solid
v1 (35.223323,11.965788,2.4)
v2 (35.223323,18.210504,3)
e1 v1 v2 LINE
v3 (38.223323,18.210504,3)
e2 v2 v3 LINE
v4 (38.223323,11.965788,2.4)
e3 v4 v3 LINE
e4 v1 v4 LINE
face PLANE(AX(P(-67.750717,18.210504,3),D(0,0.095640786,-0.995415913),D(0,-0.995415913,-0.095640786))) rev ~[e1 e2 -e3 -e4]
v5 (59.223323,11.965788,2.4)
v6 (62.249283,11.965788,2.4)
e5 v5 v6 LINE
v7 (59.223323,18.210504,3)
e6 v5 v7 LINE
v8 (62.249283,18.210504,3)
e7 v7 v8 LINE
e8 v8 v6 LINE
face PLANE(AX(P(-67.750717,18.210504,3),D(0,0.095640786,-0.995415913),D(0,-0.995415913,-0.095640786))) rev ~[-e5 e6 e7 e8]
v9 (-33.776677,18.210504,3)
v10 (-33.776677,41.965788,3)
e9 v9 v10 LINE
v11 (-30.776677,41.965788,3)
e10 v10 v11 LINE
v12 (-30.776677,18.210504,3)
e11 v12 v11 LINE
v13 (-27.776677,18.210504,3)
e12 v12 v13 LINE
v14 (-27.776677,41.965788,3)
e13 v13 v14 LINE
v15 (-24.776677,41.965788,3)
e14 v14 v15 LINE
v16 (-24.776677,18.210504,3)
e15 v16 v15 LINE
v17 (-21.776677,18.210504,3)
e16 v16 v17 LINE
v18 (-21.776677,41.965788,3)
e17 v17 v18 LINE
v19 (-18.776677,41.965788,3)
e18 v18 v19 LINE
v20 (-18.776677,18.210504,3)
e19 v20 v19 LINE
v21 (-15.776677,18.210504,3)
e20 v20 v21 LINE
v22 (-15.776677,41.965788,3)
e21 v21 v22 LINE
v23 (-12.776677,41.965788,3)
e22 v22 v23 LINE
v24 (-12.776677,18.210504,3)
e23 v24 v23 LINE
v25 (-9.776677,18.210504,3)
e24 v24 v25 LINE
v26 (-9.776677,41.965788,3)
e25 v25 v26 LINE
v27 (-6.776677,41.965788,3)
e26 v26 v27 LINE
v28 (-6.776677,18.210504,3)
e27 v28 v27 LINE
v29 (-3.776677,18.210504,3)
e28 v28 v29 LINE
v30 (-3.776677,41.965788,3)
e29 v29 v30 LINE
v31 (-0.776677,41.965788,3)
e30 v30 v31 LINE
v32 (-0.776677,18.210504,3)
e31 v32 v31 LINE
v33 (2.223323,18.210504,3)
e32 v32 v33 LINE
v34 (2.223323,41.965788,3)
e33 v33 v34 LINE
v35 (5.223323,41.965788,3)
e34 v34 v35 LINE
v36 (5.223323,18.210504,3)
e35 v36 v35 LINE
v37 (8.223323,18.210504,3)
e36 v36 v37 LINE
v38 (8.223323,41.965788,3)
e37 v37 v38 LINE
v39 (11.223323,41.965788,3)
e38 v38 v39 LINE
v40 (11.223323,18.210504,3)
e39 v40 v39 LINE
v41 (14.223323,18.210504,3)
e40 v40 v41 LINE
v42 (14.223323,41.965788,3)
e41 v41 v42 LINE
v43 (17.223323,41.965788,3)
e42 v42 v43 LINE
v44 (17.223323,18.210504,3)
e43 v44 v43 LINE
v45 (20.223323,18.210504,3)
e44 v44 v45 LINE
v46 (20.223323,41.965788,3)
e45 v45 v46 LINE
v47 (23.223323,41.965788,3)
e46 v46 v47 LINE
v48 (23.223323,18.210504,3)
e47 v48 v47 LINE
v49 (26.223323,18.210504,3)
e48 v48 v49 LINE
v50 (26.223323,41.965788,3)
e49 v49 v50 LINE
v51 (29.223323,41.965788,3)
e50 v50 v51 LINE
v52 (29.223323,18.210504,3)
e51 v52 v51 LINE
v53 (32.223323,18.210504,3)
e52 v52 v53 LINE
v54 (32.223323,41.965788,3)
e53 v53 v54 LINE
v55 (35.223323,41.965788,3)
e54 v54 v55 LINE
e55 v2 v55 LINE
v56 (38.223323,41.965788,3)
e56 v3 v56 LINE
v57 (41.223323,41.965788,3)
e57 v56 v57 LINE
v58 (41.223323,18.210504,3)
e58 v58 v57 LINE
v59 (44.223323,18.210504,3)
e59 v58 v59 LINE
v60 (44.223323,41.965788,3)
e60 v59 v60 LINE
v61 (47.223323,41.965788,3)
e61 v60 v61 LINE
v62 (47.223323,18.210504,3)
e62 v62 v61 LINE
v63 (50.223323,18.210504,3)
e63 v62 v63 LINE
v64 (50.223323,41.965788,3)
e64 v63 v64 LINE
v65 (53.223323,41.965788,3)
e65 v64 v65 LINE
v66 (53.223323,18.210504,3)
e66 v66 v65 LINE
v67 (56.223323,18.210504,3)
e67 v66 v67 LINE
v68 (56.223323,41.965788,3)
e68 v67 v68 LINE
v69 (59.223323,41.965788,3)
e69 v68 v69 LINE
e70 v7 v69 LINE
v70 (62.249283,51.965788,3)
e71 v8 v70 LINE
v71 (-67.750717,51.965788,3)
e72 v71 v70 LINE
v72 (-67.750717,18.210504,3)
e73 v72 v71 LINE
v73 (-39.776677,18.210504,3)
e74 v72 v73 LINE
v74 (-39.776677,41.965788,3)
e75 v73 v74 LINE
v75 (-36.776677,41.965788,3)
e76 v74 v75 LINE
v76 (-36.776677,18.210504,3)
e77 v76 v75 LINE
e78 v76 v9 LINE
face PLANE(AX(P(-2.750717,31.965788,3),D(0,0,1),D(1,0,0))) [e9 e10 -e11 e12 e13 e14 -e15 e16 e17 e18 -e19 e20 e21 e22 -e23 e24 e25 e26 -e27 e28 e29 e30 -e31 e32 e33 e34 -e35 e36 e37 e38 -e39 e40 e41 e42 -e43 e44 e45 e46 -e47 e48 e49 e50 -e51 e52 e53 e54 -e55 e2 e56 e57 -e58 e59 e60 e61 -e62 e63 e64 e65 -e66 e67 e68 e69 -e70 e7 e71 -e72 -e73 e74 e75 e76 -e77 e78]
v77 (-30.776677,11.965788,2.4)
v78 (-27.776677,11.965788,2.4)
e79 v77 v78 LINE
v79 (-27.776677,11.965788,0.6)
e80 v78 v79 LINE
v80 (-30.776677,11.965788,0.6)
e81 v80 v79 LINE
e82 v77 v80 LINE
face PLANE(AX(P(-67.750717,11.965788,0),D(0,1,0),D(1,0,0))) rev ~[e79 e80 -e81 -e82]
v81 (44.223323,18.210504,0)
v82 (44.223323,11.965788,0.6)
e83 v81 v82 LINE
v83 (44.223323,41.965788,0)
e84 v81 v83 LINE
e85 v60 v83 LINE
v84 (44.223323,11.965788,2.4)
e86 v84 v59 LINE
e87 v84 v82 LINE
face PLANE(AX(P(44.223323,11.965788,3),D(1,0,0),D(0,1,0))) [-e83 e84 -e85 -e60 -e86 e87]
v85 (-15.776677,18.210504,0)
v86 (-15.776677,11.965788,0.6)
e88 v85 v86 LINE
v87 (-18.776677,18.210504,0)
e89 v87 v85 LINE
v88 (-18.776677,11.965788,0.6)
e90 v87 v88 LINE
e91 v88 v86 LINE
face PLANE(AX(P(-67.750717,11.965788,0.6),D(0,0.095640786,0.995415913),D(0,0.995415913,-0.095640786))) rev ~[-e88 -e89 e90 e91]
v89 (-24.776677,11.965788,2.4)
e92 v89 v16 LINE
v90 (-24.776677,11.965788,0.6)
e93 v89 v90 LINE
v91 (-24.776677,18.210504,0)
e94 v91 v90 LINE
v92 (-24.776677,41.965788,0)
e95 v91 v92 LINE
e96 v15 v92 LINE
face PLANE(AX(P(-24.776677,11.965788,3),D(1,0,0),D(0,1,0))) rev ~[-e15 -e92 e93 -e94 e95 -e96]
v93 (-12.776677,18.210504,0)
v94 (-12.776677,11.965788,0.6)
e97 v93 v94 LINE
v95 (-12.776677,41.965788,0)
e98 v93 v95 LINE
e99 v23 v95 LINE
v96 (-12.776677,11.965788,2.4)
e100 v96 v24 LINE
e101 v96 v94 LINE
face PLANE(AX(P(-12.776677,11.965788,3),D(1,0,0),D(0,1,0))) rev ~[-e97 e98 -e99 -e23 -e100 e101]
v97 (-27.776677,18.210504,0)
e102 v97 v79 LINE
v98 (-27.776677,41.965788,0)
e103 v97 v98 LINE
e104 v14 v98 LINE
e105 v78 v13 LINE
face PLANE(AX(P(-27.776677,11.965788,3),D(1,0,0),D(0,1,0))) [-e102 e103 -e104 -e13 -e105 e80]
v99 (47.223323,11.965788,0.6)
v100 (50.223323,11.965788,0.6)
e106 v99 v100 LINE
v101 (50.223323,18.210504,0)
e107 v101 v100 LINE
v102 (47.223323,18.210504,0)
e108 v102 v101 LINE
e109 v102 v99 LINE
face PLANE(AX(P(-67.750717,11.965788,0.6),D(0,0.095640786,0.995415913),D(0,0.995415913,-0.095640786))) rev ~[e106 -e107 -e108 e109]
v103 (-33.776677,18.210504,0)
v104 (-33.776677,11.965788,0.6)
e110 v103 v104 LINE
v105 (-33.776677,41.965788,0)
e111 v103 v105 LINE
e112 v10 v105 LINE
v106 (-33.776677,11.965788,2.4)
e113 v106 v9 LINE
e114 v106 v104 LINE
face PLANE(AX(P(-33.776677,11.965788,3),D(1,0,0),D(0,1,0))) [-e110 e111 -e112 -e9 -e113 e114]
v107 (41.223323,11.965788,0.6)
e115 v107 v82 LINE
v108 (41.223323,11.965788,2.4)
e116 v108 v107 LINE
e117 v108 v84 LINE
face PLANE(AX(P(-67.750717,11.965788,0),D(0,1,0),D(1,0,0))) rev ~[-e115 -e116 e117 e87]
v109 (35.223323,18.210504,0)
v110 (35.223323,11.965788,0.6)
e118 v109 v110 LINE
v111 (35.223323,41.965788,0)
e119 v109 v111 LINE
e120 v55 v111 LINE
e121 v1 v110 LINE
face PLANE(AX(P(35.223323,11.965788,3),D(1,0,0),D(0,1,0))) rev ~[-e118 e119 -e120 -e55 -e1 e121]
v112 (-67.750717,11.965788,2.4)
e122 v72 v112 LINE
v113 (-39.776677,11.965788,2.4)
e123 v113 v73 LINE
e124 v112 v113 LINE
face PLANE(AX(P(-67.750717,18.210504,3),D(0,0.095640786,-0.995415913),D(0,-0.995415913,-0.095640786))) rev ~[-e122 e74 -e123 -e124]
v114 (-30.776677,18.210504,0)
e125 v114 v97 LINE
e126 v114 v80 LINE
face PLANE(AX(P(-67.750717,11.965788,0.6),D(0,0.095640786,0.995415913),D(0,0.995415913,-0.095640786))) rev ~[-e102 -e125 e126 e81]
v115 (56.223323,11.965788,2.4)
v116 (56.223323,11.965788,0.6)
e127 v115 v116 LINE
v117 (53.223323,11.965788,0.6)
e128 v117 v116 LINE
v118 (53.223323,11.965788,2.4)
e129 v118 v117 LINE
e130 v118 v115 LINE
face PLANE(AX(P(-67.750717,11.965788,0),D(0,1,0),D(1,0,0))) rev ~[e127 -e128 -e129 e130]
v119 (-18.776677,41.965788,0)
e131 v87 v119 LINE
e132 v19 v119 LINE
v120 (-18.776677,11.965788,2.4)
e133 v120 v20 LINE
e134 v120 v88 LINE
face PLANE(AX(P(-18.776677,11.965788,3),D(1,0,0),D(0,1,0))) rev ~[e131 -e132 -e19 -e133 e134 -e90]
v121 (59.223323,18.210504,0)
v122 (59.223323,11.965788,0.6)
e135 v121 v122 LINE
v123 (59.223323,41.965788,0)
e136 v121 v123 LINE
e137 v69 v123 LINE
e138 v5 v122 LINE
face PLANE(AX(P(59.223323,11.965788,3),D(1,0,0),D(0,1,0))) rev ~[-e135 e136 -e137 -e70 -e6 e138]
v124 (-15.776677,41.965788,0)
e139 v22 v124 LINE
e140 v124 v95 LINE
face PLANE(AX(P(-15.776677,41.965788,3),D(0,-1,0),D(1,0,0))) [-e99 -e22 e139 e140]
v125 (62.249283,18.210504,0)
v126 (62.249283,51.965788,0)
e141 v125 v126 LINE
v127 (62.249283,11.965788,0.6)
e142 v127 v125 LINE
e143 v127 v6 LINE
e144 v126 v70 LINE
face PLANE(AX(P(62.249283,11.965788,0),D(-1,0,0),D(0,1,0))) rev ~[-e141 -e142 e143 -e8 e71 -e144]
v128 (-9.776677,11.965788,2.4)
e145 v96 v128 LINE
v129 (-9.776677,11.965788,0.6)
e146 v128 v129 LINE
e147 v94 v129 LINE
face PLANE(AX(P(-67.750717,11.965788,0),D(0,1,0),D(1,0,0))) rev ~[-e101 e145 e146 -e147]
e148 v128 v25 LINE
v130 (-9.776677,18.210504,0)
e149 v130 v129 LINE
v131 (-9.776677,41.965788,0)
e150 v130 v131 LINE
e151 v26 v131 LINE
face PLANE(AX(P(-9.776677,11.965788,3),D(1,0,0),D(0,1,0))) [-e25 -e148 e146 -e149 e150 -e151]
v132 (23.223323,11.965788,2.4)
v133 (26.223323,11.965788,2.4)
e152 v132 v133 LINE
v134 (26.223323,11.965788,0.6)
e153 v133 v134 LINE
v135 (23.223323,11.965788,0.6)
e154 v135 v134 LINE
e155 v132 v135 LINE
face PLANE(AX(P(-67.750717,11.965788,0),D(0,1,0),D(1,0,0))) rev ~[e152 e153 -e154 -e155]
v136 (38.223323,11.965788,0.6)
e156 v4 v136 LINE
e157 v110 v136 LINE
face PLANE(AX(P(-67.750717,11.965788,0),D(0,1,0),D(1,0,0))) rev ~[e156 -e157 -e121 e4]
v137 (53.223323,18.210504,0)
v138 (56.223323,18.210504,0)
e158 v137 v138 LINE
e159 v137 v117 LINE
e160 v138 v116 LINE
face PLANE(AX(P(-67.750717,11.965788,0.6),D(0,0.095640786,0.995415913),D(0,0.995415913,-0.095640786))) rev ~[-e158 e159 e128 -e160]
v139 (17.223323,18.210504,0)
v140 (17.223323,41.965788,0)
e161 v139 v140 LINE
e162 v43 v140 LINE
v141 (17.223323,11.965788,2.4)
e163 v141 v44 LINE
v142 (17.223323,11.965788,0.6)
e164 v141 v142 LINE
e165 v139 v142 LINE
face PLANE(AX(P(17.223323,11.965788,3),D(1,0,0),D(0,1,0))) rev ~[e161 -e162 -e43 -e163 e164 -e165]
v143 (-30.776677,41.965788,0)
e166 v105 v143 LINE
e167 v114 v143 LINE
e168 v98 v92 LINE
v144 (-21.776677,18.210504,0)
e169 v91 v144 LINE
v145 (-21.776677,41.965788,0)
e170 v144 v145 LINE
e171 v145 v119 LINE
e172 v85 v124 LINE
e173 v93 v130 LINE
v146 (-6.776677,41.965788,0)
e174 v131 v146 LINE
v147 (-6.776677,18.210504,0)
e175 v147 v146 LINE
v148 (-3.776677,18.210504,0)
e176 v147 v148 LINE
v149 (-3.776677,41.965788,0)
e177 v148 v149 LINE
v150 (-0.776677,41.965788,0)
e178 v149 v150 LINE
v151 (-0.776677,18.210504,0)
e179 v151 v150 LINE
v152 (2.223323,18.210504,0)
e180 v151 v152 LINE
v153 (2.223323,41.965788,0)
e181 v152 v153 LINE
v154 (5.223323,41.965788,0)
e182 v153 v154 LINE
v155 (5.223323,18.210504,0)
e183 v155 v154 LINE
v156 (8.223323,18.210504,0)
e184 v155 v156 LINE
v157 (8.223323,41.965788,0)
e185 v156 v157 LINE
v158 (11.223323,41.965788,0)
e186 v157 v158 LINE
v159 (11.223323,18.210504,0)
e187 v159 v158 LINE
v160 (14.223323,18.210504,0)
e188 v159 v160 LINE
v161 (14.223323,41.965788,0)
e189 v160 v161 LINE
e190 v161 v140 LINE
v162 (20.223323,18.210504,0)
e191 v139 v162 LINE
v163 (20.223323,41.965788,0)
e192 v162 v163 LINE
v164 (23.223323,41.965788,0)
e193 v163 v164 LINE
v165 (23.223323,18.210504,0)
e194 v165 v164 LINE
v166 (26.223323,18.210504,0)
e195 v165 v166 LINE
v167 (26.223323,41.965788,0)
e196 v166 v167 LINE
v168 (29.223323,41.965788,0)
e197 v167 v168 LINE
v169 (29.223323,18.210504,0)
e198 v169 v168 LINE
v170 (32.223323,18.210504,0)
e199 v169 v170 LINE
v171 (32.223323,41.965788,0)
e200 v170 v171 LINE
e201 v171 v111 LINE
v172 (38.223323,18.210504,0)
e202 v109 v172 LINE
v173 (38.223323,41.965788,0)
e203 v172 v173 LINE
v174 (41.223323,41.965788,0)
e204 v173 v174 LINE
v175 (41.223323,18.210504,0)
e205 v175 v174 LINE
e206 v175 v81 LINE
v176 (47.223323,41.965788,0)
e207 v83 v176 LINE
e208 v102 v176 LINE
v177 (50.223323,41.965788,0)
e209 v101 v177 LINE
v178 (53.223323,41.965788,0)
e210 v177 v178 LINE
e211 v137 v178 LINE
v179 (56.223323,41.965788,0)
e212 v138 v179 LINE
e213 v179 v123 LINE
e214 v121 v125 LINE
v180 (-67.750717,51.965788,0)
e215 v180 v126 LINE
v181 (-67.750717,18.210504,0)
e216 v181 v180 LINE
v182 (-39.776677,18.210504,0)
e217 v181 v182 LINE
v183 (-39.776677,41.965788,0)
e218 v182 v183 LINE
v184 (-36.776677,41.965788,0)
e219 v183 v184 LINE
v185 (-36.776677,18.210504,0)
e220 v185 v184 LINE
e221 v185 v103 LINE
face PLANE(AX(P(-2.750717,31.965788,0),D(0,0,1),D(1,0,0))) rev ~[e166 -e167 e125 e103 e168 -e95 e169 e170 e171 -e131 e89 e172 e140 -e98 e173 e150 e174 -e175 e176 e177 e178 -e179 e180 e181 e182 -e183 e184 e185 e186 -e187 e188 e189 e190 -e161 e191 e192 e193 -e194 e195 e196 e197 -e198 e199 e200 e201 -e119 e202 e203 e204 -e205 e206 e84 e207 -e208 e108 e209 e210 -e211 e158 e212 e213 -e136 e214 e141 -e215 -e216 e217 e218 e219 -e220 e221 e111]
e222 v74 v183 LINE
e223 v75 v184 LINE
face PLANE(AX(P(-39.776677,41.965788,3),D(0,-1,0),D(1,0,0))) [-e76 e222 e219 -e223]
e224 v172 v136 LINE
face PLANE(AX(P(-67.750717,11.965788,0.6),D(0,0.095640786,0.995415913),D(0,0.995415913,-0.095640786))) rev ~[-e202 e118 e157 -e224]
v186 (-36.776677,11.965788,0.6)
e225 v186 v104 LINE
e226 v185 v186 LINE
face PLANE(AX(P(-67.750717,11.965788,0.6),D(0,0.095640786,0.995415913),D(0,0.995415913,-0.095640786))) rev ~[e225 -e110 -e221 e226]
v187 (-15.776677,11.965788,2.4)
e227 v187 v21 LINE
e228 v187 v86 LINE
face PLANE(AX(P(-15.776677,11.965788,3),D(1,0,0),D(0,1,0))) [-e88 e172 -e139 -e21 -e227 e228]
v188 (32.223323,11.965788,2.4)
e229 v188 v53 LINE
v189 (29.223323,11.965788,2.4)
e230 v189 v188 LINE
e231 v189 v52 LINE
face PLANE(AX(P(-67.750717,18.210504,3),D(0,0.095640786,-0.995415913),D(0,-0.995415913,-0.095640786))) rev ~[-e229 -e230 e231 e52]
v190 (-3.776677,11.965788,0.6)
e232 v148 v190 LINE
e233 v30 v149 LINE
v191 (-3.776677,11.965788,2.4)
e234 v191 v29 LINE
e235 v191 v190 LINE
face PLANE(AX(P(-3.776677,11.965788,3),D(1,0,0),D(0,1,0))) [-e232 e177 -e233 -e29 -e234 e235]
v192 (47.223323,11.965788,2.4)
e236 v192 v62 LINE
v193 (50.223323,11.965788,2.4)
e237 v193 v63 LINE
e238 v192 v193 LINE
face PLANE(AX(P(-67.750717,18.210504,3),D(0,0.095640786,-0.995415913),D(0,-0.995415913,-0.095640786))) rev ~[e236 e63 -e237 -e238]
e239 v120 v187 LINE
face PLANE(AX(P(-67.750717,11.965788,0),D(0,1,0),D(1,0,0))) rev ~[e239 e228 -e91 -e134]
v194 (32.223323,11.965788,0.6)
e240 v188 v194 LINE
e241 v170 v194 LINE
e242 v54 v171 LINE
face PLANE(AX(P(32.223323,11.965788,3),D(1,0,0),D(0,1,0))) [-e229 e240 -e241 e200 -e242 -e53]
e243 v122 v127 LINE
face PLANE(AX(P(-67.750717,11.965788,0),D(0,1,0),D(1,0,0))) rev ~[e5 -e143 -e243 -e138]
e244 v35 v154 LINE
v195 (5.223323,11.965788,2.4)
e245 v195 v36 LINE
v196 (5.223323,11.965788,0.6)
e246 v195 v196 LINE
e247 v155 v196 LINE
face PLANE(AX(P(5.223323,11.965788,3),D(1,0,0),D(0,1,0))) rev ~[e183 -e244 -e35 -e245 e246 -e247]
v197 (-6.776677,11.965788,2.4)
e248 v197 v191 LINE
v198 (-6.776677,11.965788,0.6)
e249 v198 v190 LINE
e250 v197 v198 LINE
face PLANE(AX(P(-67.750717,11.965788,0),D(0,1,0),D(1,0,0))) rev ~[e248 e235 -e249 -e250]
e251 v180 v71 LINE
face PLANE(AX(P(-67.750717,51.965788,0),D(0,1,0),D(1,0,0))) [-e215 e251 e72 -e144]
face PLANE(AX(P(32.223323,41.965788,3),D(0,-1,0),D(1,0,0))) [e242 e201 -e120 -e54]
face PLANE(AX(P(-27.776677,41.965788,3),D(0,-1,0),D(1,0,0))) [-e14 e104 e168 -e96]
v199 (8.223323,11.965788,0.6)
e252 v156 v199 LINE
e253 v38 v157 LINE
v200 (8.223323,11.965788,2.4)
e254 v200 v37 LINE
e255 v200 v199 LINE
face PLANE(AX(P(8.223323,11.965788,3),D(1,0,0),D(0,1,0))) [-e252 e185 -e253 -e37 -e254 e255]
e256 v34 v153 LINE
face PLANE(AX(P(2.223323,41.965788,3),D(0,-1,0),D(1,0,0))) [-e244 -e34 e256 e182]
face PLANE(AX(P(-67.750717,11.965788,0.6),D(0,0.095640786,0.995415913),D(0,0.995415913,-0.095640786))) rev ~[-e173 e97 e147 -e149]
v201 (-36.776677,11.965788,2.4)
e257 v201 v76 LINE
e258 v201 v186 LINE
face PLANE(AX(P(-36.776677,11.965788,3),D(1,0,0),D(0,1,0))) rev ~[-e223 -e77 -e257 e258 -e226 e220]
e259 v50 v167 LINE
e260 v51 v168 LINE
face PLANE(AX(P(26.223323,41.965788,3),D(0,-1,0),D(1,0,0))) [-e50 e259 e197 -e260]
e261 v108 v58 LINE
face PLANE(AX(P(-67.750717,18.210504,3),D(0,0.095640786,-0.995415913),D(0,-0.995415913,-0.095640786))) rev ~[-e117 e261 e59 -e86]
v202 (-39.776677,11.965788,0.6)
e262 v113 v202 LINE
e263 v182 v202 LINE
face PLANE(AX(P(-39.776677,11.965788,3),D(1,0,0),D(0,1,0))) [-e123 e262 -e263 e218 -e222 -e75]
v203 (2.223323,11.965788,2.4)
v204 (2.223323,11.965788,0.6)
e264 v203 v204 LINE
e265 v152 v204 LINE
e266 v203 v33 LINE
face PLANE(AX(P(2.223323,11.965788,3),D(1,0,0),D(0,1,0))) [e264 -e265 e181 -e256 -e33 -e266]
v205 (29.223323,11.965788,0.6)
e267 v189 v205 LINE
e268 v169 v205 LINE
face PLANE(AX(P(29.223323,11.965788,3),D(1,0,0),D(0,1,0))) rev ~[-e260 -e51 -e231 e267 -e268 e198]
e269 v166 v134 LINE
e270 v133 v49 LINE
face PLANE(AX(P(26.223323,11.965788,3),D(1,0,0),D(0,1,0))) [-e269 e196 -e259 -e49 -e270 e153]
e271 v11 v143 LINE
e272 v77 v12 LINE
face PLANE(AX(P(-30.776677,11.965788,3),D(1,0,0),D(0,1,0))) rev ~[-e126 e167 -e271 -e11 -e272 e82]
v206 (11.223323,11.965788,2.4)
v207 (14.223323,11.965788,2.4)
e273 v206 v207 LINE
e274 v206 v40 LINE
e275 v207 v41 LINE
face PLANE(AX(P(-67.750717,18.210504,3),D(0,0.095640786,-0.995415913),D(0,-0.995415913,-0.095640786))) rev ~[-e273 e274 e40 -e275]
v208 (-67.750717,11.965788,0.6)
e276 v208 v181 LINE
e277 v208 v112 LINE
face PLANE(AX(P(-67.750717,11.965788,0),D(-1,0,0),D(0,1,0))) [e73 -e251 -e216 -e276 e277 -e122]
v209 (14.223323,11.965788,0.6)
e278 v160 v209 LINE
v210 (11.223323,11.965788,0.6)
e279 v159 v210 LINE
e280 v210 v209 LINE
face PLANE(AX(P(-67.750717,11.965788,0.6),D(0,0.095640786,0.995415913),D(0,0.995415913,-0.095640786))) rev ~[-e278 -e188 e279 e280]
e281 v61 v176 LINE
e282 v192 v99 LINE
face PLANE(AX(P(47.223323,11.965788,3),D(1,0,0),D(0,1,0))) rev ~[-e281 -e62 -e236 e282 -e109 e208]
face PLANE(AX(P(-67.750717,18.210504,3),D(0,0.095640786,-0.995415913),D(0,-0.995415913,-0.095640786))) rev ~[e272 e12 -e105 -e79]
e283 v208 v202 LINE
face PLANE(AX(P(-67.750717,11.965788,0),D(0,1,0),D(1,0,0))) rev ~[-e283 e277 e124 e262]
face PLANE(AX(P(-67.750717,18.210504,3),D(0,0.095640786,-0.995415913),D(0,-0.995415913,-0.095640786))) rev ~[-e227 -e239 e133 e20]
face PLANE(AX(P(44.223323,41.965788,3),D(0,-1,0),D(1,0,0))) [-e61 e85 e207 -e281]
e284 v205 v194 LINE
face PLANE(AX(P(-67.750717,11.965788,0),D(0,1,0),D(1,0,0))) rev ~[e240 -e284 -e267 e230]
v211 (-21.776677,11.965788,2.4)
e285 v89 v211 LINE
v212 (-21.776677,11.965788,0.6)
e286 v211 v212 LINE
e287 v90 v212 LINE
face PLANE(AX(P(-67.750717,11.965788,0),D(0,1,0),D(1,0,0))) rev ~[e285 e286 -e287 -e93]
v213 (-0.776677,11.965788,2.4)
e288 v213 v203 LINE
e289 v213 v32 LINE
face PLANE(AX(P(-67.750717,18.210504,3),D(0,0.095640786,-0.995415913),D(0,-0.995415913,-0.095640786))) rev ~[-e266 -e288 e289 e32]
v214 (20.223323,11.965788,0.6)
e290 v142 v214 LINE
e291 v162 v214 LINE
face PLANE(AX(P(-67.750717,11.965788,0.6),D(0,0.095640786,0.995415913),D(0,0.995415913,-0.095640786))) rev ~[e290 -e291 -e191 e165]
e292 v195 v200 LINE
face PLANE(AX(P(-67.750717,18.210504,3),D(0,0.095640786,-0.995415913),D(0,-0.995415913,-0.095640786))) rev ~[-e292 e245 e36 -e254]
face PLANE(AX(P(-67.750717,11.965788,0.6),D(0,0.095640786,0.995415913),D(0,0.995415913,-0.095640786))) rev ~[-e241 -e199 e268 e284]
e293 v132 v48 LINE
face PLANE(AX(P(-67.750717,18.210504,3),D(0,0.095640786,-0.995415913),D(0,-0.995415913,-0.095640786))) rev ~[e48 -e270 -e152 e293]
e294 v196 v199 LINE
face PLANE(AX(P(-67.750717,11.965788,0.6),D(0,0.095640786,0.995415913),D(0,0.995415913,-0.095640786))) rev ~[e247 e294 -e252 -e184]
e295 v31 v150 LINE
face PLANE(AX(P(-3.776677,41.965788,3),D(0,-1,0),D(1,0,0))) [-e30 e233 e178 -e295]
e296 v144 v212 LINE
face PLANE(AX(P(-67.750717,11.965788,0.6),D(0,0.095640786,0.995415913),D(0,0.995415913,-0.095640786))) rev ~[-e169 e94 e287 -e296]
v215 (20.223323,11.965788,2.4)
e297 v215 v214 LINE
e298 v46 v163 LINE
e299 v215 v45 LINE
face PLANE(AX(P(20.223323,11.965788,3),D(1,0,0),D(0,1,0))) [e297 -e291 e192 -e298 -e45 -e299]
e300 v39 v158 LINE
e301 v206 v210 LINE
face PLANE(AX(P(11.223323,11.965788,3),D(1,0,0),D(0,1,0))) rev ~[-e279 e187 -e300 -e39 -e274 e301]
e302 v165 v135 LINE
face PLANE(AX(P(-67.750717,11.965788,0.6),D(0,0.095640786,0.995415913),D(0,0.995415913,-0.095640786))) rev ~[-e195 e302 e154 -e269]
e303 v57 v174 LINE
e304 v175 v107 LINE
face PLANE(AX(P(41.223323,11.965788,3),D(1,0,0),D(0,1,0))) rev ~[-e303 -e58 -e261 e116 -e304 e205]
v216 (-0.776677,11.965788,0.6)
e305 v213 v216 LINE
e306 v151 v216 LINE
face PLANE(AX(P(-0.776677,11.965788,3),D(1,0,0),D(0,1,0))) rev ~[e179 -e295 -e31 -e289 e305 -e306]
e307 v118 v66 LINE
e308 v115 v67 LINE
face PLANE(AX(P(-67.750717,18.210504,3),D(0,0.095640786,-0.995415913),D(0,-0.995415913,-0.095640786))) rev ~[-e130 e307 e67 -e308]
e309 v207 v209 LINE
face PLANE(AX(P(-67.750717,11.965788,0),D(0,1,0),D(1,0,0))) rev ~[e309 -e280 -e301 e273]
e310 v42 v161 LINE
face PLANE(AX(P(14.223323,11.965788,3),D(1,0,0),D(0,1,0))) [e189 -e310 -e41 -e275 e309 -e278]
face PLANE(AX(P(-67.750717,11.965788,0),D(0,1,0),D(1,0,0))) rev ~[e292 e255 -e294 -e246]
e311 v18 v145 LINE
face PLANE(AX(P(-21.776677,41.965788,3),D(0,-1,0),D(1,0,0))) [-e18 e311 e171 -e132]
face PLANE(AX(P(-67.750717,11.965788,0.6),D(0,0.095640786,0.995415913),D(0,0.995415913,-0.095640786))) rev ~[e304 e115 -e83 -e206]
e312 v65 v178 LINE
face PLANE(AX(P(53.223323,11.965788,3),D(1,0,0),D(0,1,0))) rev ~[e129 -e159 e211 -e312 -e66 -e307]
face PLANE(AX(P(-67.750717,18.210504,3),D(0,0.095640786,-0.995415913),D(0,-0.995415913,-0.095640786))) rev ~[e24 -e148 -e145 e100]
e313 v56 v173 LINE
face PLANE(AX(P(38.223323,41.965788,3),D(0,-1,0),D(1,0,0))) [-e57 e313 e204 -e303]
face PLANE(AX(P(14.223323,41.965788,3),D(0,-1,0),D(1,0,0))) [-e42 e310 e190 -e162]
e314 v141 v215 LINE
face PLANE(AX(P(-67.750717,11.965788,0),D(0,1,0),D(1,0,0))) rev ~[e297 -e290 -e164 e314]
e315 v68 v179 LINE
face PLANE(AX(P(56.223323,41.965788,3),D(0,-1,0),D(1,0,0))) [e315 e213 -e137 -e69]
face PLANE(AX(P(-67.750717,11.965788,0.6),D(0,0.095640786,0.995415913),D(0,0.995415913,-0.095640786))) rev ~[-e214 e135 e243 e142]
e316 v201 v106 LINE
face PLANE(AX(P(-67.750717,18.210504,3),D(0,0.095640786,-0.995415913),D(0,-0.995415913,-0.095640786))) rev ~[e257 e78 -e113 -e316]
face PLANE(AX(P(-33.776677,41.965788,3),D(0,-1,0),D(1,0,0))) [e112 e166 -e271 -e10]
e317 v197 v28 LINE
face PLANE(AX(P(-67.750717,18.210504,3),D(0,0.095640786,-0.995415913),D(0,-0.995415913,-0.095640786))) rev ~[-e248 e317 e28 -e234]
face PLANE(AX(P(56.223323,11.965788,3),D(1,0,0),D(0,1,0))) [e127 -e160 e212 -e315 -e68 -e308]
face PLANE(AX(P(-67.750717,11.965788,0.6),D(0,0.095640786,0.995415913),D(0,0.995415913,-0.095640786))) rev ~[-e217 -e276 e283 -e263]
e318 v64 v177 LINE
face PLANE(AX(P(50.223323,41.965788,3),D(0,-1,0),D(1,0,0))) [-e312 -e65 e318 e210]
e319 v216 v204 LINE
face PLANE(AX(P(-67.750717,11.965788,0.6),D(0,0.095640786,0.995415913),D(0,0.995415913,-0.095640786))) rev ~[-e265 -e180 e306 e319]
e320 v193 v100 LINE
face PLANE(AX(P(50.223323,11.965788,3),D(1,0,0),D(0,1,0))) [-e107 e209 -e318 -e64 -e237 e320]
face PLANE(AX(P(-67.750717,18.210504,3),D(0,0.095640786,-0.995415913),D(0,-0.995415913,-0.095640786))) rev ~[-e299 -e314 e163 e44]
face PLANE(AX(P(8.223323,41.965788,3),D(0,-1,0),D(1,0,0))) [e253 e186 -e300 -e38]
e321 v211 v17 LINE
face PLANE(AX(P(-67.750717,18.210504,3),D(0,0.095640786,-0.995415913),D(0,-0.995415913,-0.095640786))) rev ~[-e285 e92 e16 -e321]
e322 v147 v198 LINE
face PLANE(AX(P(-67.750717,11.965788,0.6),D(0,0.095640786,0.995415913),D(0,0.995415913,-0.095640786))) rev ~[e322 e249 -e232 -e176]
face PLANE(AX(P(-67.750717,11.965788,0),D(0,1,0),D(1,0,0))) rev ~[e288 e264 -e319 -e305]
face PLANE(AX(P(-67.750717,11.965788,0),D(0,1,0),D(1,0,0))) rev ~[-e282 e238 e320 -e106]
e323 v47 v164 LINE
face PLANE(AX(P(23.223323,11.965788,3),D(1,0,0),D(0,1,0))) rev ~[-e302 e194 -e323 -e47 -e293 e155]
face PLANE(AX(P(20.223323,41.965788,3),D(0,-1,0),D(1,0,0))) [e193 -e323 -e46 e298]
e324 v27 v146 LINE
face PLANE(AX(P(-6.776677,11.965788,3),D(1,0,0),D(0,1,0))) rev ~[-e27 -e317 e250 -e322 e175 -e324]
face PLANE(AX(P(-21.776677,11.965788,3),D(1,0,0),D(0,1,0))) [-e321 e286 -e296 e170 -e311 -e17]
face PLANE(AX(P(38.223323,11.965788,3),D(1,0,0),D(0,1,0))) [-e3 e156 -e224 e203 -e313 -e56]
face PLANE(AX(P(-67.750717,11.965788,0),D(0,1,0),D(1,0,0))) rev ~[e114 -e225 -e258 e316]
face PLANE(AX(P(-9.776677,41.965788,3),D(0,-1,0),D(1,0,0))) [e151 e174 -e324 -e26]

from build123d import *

# Parameters (mm, degrees)
F0_W     = 130
F0_H     = 40
F1_DEPTH = 3
F2_W     = 3
F2_H     = 30
F3_DEPTH = 25
F5_DEPTH = 130.001


with BuildPart() as f1:
    # F0 (on Top) → F1 (new body)
    with BuildSketch(Plane.XY):
        with Locations((-2.750717, 31.965788)):
            Rectangle(F0_W, F0_H)
    extrude(amount=F1_DEPTH)

    # F2 (on face) → F3 (cut)
    with BuildSketch(Plane.XY.offset(3)):
        with Locations((-38.276677, 26.965788)):
            Rectangle(F2_W, F2_H)
        with Locations((-32.276677, 26.965788)):
            Rectangle(F2_W, F2_H)
        with Locations((-26.276677, 26.965788)):
            Rectangle(F2_W, F2_H)
        with Locations((-20.276677, 26.965788)):
            Rectangle(F2_W, F2_H)
        with Locations((-14.276677, 26.965788)):
            Rectangle(F2_W, F2_H)
        with Locations((-8.276677, 26.965788)):
            Rectangle(F2_W, F2_H)
        with Locations((-2.276677, 26.965788)):
            Rectangle(F2_W, F2_H)
        with Locations((3.723323, 26.965788)):
            Rectangle(F2_W, F2_H)
        with Locations((9.723323, 26.965788)):
            Rectangle(F2_W, F2_H)
        with Locations((15.723323, 26.965788)):
            Rectangle(F2_W, F2_H)
        with Locations((21.723323, 26.965788)):
            Rectangle(F2_W, F2_H)
        with Locations((27.723323, 26.965788)):
            Rectangle(F2_W, F2_H)
        with Locations((33.723323, 26.965788)):
            Rectangle(F2_W, F2_H)
        with Locations((39.723323, 26.965788)):
            Rectangle(F2_W, F2_H)
        with Locations((45.723323, 26.965788)):
            Rectangle(F2_W, F2_H)
        with Locations((51.723323, 26.965788)):
            Rectangle(F2_W, F2_H)
        with Locations((57.723323, 26.965788)):
            Rectangle(F2_W, F2_H)
    extrude(amount=-F3_DEPTH, mode=Mode.SUBTRACT)

    # F4 (on face) → F5 (cut, through all)
    with BuildSketch(Plane(origin=(-67.750717, 0, 0), x_dir=(0, -1, 0), z_dir=(-1, 0, 0))):
        Polygon((-18.210504, 3), (-11.965788, 2.4), (-11.965788, 3), align=None)
        Polygon((-11.965788, 0), (-11.965788, 0.6), (-18.210504, 0), align=None)
    extrude(amount=-F5_DEPTH, mode=Mode.SUBTRACT)


solid = f1.part
